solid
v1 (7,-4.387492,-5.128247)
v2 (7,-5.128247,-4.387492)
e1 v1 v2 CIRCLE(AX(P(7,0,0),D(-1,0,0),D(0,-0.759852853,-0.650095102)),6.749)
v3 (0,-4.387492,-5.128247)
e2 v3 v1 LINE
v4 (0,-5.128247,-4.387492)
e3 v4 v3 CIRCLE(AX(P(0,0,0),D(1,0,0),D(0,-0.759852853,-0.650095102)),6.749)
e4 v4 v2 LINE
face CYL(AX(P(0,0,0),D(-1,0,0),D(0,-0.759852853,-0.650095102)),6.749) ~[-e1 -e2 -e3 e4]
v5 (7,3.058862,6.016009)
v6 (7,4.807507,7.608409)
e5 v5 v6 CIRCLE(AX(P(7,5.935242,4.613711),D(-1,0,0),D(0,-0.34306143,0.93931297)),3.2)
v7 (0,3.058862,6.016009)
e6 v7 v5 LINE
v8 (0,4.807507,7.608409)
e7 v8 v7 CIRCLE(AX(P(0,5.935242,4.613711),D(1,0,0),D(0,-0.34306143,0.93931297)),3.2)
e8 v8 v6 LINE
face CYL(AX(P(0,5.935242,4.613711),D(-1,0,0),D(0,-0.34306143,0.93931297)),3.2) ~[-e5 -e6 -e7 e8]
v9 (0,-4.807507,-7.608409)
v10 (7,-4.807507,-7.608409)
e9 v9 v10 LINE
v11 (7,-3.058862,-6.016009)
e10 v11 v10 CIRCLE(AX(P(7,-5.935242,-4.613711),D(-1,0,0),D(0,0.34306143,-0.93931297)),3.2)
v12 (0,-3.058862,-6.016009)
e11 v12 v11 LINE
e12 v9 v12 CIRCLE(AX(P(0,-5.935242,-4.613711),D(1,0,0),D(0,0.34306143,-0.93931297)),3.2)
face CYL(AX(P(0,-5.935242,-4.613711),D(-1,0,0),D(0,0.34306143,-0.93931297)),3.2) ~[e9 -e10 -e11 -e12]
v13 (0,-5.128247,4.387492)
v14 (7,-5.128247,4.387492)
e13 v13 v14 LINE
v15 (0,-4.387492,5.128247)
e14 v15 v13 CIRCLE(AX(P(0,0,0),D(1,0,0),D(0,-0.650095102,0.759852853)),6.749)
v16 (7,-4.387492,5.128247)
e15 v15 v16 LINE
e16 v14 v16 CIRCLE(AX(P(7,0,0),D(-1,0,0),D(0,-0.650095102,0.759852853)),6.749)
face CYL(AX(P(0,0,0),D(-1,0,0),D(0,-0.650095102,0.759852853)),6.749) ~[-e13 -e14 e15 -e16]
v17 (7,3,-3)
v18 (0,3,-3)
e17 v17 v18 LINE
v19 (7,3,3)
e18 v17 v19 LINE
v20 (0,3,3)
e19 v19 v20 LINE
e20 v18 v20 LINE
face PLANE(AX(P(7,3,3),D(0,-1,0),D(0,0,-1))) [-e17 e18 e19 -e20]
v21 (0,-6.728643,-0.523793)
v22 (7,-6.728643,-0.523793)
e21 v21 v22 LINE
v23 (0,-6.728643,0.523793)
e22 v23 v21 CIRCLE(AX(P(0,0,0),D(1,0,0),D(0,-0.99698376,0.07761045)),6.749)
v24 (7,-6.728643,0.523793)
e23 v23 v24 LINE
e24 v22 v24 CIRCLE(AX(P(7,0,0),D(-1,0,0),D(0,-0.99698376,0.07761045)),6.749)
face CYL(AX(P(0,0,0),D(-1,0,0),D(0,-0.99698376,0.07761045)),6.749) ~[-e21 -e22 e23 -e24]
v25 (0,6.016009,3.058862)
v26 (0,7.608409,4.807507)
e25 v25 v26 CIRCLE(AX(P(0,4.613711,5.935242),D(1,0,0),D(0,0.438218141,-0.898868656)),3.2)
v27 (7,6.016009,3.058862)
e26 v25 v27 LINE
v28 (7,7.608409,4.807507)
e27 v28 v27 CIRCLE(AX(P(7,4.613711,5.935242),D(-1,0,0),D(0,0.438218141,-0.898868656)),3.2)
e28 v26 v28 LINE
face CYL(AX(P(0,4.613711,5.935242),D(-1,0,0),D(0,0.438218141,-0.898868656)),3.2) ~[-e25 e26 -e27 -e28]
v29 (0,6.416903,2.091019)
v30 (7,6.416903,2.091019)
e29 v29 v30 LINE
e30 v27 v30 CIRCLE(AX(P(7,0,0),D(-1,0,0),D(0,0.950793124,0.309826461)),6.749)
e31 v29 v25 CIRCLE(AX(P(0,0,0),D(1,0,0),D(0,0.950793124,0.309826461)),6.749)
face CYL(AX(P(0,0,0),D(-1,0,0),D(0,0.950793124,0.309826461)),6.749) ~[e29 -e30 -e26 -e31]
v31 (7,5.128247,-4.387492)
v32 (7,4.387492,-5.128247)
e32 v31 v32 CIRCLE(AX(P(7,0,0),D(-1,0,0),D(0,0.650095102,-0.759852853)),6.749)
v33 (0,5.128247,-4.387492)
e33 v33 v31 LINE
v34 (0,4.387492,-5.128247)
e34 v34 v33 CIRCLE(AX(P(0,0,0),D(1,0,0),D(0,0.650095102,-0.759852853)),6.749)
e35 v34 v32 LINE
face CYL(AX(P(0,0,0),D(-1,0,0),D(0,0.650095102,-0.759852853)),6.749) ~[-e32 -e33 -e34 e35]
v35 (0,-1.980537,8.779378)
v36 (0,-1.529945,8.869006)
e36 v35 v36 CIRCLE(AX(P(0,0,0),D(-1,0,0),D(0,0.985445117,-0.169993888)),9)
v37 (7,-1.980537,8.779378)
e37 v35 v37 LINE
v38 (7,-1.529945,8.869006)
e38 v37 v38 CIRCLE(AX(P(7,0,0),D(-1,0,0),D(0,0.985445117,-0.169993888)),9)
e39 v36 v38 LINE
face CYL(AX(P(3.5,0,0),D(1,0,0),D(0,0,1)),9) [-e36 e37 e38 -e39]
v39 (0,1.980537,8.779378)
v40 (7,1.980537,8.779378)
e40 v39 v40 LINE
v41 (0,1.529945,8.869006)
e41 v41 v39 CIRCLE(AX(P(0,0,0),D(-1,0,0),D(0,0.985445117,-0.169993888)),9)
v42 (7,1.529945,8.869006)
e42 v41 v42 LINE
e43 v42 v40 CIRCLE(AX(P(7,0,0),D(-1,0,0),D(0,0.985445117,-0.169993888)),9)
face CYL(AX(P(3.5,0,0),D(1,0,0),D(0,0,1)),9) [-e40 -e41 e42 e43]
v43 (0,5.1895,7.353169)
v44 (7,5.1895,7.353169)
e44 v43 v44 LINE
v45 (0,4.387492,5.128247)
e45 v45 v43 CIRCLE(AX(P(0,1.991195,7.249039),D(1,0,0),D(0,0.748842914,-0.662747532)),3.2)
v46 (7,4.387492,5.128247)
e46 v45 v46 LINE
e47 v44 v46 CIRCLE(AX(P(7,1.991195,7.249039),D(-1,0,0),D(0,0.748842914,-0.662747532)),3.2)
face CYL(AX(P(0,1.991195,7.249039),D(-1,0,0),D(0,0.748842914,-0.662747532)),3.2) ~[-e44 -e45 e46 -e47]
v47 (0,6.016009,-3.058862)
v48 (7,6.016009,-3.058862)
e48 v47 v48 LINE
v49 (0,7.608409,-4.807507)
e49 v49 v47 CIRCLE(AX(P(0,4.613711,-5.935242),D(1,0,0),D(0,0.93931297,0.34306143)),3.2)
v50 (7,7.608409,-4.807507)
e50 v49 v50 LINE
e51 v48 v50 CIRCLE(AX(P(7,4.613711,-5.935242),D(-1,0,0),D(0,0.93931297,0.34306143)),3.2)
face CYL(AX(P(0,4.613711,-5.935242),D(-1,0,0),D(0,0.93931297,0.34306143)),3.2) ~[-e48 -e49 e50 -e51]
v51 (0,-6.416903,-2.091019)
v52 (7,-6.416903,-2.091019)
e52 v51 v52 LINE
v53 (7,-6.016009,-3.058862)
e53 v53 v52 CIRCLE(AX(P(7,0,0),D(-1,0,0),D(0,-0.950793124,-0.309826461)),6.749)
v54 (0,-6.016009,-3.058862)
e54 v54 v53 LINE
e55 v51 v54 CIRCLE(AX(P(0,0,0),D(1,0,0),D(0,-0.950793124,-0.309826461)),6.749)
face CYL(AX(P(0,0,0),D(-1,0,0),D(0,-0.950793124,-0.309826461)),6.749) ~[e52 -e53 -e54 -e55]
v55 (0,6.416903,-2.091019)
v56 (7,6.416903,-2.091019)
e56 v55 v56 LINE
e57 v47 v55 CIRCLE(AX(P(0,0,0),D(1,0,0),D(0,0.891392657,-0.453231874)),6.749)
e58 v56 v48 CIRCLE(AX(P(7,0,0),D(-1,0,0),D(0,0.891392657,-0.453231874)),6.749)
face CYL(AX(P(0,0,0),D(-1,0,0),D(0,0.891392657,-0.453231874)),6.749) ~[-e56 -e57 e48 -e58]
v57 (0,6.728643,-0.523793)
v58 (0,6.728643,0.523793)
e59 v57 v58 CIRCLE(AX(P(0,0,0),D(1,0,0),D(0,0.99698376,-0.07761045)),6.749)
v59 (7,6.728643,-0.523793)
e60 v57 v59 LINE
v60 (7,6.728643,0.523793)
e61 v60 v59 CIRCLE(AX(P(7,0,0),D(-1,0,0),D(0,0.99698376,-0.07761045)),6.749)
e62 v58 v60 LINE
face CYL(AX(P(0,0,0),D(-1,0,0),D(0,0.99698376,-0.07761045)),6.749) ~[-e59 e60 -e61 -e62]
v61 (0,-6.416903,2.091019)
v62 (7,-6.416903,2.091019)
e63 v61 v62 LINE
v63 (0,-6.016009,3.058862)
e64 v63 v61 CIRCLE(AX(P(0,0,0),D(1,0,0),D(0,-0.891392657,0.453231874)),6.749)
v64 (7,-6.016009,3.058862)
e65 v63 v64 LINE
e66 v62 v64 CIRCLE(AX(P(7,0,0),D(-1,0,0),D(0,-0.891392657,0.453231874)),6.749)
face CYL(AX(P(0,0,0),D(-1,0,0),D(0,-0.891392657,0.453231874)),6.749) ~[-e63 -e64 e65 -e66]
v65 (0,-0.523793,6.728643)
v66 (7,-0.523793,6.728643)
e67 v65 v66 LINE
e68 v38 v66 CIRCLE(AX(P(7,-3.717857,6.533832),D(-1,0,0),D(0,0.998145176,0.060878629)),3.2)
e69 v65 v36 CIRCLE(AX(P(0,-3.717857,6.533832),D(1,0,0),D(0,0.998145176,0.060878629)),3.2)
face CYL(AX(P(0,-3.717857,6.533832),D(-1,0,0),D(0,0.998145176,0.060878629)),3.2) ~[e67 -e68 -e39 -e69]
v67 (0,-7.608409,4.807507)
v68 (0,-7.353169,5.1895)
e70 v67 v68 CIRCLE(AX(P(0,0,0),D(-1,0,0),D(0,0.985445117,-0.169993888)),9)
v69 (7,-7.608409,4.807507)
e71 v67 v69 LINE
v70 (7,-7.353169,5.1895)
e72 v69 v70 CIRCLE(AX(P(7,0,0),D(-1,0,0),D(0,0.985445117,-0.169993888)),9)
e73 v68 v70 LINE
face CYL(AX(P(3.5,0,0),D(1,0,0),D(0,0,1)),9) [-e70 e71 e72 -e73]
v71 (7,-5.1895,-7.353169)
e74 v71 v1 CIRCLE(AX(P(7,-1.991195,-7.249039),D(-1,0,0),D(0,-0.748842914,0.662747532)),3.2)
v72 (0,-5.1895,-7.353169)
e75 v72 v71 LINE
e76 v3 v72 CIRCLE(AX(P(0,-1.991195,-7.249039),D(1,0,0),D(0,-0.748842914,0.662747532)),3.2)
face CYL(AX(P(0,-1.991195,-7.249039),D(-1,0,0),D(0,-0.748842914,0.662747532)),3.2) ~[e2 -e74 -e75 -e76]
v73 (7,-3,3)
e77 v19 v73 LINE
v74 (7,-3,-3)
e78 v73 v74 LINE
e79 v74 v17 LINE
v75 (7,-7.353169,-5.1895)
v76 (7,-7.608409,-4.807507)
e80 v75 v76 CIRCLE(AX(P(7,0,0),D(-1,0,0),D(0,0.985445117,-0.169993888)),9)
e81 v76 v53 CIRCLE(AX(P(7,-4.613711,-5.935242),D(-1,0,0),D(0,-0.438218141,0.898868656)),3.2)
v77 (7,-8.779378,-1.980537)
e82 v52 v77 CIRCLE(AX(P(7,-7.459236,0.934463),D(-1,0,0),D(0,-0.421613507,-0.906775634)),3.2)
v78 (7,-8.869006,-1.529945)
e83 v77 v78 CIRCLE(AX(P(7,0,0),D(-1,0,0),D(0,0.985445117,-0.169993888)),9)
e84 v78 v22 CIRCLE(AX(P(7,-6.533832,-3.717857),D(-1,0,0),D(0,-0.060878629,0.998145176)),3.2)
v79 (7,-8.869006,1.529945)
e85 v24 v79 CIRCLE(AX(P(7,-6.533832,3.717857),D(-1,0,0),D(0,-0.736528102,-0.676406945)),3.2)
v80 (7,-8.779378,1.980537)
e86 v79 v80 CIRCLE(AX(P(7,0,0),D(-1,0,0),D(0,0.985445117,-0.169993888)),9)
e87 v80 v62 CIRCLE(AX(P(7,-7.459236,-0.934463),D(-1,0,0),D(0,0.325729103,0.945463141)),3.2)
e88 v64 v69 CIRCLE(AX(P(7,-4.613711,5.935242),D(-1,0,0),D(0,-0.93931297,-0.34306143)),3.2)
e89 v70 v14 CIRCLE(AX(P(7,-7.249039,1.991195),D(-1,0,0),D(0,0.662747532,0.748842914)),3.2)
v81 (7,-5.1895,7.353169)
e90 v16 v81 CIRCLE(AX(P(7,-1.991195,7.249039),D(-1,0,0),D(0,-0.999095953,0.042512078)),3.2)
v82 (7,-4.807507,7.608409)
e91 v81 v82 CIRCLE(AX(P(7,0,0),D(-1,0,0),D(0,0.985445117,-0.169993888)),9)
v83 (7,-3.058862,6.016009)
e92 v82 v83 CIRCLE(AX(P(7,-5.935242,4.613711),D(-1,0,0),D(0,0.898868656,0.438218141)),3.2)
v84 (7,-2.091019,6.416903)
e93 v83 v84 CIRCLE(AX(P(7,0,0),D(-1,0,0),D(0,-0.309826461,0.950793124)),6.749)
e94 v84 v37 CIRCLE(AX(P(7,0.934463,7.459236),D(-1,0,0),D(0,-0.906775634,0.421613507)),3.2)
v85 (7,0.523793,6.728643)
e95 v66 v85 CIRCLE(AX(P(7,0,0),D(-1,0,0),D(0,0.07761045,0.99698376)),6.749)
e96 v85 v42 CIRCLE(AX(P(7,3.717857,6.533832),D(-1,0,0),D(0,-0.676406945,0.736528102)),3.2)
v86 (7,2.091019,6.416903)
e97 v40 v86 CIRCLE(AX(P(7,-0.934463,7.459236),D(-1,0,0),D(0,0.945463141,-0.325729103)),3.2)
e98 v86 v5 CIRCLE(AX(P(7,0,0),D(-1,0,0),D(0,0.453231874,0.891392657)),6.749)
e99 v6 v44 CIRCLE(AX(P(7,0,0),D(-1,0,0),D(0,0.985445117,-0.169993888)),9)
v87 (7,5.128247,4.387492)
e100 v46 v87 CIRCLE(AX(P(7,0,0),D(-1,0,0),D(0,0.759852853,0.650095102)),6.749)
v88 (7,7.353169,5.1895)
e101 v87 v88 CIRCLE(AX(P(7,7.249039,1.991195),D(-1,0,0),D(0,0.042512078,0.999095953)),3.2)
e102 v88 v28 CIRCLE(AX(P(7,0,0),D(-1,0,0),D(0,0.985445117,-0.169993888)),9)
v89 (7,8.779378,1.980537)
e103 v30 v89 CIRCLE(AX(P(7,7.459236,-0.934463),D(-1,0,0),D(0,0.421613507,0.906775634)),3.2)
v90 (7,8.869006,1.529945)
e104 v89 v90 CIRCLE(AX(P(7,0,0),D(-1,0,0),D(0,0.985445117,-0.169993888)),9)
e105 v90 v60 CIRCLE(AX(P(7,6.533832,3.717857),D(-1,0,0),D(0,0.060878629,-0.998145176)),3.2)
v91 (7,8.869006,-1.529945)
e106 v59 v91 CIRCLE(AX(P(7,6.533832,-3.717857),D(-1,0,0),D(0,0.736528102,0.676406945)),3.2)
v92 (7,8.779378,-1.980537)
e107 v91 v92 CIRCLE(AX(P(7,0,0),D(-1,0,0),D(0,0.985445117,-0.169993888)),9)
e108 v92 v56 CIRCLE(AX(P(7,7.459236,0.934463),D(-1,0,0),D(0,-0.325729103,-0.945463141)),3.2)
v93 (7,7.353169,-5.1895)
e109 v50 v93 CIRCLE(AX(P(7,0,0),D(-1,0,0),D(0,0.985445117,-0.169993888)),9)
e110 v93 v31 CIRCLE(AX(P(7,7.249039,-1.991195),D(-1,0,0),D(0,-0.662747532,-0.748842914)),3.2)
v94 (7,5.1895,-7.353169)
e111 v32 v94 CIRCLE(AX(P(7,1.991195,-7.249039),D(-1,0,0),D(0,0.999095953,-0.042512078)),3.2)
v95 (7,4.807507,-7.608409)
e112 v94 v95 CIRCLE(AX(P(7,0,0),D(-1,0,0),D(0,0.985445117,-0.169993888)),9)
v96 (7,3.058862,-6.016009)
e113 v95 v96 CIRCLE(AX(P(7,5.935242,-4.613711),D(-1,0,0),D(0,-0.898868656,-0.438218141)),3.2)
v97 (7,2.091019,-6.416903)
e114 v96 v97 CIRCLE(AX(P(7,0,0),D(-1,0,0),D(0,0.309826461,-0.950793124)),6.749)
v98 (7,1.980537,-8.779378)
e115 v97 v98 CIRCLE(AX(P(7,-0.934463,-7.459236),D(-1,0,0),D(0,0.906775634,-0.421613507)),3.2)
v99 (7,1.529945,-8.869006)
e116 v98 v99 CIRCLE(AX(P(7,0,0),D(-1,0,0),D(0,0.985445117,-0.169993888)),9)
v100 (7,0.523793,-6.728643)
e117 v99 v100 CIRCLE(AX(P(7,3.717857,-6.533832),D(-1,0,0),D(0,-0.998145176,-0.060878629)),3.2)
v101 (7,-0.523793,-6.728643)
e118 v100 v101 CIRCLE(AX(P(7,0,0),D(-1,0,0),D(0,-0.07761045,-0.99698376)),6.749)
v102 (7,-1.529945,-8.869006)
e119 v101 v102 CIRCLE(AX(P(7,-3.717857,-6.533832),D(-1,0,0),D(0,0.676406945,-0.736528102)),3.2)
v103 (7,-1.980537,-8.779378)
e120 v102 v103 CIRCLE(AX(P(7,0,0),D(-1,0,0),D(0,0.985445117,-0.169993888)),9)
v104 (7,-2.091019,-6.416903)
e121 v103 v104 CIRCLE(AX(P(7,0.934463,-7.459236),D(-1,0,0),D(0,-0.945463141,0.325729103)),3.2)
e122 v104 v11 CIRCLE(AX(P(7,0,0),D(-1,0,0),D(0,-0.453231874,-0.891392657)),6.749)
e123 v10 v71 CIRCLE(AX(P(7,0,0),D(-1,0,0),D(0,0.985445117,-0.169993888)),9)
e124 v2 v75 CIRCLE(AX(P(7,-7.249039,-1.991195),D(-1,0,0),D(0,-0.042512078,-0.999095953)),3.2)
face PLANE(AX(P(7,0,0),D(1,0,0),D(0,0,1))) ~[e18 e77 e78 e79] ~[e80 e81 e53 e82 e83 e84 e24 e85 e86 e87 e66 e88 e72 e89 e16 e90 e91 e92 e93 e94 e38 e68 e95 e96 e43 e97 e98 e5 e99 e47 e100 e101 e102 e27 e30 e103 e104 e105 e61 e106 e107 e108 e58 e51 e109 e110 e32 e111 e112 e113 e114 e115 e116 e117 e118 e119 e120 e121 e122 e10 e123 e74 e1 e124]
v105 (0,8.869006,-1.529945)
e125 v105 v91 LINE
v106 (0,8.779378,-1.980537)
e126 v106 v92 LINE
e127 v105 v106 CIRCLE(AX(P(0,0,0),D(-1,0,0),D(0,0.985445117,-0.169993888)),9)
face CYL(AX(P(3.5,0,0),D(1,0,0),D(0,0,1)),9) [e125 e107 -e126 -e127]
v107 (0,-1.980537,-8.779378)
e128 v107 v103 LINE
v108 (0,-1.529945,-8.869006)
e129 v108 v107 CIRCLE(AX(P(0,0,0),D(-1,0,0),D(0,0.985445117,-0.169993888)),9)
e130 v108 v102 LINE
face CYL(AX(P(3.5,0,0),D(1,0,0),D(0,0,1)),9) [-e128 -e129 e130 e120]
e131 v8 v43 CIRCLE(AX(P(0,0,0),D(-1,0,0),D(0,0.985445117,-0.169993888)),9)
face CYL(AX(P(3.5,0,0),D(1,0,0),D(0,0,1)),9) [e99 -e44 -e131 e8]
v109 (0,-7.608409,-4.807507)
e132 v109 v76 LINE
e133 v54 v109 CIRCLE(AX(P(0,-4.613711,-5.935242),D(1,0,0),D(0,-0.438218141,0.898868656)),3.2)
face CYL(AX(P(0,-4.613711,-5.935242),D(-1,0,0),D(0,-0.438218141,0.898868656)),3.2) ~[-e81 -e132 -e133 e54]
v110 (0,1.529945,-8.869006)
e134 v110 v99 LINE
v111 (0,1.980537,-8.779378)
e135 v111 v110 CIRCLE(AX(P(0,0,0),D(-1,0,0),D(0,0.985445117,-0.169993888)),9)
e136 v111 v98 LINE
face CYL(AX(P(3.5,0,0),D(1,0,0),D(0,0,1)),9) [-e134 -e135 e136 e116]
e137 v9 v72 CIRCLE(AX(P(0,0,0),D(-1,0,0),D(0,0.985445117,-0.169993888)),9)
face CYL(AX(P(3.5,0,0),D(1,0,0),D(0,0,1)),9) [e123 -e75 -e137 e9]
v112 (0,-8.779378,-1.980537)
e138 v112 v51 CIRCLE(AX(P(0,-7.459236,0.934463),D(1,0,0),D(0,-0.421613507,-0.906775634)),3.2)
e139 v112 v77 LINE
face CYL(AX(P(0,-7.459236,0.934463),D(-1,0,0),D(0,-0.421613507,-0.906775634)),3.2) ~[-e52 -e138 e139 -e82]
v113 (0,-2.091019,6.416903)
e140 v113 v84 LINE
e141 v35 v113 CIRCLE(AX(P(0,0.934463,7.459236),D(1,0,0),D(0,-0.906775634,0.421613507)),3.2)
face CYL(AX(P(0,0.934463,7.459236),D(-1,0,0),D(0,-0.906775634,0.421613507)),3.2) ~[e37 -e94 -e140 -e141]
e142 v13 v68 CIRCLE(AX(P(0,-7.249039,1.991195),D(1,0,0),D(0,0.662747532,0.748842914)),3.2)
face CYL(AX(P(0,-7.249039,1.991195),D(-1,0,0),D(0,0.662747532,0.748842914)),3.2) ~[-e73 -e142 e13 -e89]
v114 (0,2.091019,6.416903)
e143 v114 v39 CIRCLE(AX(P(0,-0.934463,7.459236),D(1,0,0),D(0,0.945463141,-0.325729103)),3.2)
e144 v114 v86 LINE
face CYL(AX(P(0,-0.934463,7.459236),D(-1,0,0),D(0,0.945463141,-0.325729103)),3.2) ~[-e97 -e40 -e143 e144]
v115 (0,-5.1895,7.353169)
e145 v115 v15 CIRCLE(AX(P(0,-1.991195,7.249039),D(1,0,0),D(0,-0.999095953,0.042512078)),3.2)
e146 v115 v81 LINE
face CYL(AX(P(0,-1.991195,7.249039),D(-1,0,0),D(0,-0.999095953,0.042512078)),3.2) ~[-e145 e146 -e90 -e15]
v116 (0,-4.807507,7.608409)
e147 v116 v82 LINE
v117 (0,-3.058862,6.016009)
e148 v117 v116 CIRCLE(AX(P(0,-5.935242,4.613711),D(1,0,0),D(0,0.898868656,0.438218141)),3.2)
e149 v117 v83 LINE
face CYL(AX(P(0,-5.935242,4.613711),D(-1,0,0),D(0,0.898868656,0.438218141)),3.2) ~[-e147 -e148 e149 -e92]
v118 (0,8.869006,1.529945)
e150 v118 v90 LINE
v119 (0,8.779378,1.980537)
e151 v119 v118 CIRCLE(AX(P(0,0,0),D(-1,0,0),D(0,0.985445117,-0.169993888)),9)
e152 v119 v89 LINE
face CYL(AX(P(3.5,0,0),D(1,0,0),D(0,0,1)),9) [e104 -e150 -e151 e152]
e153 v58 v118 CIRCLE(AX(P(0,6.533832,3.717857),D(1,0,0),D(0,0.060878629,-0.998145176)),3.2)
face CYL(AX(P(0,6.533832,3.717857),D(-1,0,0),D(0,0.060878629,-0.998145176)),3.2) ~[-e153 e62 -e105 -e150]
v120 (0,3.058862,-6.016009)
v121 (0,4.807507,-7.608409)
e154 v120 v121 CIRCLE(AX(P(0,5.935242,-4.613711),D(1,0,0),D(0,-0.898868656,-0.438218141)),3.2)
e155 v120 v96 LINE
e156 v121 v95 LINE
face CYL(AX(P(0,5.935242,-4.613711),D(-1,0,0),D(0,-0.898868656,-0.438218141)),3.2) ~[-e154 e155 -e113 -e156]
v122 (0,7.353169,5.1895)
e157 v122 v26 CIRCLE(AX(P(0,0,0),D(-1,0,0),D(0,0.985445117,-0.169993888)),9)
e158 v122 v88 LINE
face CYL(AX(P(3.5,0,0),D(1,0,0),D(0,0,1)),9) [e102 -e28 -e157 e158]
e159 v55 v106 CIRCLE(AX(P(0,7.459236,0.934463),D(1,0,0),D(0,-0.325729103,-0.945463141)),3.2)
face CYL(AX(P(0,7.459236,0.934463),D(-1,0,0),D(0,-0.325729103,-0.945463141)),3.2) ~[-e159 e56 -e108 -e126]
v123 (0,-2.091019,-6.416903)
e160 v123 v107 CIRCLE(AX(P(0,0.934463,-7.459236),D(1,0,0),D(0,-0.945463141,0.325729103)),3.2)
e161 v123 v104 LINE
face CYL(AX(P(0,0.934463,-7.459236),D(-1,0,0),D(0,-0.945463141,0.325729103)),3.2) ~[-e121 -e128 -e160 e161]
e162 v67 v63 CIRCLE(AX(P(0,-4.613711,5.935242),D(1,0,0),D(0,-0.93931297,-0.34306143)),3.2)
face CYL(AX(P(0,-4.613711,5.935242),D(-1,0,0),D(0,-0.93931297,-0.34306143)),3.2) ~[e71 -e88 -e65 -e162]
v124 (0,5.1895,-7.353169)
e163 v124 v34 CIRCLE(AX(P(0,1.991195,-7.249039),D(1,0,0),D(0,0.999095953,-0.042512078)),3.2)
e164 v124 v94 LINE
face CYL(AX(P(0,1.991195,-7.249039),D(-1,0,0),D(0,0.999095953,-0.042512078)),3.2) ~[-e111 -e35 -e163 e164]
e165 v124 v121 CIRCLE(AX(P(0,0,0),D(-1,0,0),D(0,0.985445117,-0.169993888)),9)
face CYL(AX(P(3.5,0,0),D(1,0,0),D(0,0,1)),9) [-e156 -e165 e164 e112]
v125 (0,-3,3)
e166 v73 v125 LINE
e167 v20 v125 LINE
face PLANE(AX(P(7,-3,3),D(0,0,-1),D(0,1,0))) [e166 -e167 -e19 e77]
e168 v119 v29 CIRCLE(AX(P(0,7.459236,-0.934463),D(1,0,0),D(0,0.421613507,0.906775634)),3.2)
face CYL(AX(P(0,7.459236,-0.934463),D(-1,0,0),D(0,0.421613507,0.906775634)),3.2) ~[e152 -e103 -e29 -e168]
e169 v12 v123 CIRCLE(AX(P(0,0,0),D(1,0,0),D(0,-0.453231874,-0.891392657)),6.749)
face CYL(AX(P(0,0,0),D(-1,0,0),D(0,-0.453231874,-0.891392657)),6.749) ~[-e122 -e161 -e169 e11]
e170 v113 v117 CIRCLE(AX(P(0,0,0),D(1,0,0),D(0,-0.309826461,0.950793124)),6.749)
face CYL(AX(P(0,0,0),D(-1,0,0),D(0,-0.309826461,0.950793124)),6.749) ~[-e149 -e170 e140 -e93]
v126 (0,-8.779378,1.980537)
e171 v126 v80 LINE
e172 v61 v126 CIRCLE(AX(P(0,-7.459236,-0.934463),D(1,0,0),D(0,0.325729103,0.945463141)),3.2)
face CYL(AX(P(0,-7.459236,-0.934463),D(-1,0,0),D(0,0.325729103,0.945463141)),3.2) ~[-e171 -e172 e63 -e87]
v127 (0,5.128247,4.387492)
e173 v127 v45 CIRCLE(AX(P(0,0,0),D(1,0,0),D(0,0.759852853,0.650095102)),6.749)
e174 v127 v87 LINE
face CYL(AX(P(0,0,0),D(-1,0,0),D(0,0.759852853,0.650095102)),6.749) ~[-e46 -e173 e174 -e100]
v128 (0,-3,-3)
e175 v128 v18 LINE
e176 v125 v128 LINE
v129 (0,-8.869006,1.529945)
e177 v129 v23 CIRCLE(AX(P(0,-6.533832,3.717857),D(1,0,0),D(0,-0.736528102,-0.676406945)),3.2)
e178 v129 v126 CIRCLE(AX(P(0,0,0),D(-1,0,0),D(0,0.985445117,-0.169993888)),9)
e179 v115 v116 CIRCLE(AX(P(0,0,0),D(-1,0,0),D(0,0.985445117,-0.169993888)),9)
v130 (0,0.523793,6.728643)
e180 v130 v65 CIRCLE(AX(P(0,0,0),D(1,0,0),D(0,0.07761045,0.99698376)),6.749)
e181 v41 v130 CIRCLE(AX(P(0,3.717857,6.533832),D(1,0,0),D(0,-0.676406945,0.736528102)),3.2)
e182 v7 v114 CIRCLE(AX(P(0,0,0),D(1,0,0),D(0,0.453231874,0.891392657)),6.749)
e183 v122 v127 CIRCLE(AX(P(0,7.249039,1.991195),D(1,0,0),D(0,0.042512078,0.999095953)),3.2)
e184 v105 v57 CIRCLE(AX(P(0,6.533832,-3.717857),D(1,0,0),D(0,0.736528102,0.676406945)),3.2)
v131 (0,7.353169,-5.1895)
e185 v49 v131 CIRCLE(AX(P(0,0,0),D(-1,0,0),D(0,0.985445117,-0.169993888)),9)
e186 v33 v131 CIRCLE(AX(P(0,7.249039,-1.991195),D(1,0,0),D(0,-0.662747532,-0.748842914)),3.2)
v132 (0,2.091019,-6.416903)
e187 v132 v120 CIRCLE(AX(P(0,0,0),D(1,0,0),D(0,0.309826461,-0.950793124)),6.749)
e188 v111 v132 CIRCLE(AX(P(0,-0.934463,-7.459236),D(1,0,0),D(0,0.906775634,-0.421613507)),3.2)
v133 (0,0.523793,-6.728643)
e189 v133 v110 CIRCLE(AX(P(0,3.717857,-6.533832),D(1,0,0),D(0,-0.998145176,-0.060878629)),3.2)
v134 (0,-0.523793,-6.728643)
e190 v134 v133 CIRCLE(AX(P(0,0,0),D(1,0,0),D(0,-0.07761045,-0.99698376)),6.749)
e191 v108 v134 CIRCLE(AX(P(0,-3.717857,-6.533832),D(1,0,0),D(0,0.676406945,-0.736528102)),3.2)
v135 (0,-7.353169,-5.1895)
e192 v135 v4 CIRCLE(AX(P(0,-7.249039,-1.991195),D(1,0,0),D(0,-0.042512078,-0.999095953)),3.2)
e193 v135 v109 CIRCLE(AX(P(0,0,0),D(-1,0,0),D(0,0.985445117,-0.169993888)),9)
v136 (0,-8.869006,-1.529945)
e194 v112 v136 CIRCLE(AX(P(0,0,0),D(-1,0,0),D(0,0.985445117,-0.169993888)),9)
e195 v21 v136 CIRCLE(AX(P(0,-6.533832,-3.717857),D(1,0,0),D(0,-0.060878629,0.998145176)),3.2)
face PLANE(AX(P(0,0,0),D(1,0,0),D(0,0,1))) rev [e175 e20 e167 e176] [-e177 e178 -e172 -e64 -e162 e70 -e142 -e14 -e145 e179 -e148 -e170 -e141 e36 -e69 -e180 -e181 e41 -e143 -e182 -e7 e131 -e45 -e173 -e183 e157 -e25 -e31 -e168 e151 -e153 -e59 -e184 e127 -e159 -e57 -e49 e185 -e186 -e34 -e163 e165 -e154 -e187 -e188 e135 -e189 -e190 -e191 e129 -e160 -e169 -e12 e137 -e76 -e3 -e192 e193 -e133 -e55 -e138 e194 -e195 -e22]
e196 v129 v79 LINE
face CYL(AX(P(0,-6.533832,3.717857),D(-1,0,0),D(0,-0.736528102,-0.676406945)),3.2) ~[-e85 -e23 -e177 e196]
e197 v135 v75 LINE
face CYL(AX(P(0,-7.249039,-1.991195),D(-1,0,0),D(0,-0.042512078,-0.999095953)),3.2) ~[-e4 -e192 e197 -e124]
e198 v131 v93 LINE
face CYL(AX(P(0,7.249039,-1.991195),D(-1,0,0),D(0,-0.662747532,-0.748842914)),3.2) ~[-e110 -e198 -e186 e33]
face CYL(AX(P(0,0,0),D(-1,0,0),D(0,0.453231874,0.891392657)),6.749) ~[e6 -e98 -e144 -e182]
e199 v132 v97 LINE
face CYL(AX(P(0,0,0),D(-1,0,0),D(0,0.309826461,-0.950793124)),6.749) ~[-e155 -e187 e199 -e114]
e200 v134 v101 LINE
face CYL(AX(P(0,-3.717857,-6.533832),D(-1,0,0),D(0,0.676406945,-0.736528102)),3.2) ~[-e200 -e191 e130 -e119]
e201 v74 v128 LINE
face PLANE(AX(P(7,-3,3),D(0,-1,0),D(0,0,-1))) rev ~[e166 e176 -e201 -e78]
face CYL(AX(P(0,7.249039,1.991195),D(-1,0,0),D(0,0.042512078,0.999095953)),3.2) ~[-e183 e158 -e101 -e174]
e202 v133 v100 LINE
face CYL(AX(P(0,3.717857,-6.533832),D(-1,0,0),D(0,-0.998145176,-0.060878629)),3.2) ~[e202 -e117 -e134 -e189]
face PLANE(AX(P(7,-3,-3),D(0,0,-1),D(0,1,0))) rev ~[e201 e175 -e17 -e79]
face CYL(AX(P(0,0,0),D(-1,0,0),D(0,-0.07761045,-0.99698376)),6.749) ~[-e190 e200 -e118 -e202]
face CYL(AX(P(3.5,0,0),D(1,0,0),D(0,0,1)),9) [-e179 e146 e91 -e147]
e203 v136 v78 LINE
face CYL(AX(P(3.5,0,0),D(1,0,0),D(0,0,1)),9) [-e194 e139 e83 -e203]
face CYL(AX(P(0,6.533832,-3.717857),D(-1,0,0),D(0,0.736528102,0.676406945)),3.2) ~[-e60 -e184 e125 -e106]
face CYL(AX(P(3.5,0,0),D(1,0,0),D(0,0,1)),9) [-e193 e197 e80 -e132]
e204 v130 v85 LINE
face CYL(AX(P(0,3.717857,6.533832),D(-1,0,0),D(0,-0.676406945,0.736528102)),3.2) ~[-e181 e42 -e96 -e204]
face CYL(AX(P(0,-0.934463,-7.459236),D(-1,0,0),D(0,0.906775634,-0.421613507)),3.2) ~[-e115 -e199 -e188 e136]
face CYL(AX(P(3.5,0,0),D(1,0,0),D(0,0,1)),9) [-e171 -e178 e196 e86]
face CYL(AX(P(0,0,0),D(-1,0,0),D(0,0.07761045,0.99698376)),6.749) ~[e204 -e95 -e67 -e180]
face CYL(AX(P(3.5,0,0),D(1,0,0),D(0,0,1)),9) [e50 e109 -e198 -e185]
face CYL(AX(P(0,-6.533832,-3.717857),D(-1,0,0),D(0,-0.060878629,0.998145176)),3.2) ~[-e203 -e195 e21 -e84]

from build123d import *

# Parameters (mm, degrees)
BASPROSKE_W        = 7
BASPROSKE_H        = 9
TOOTHCUT_DEPTH     = 15.525839046
TEETHCUTS_COUNT    = 16
BORSKE_R           = 3
BORE_DEPTH         = 50.0001016
SKETCH1_W          = 6
SKETCH1_H          = 6
CUT_EXTRUDE1_DEPTH = 10


with BuildPart() as part:
    # BasProSke → Base-Revolve (revolve)
    with BuildSketch(Plane(origin=(0, 0, 0), x_dir=(1, 0, 0), z_dir=(0, 1, 0)), mode=Mode.PRIVATE) as base_revolve_sk:
        with Locations((3.5, 4.5)):
            Rectangle(BASPROSKE_W, BASPROSKE_H)
    revolve(base_revolve_sk.sketch.rotate(Axis((-10, 0, 0), (1, 0, 0)), 180), axis=Axis((-10, 0, 0), (1, 0, 0)))

    # TooCutSke → ToothCut (cut, through all)
    with BuildSketch(Plane(origin=(0, 0, 0), x_dir=(0, 0, -1), z_dir=(1, 0, 0))):
        with BuildLine():
            ThreePointArc((0.523792937, 6.728643397), (0, 6.749), (-0.523792937, 6.728643397))
            ThreePointArc((-0.523792937, 6.728643397), (-0.828704482, 7.90962059), (-1.553355277, 8.890721711))
            ThreePointArc((-1.553355277, 8.890721711), (0, 9.0254), (1.553355277, 8.890721711))
            ThreePointArc((1.553355277, 8.890721711), (0.828704482, 7.90962059), (0.523792937, 6.728643397))
        make_face()
    toothcut = extrude(amount=TOOTHCUT_DEPTH, mode=Mode.SUBTRACT)

    # TeethCuts: ToothCut ×16 about axis
    teethcuts_axis = Axis((0, 0, 0), (1, 0, 0))
    for i in range(1, TEETHCUTS_COUNT):
        add(toothcut.rotate(teethcuts_axis, i * 360 / TEETHCUTS_COUNT), mode=Mode.SUBTRACT)

    # BorSke → Bore (cut, symmetric)
    with BuildSketch(Plane(origin=(0, 0, 0), x_dir=(0, 0, -1), z_dir=(1, 0, 0))):
        with Locations(Location((0, 0, 0), (0, 0, 180))):
            Circle(BORSKE_R)
    extrude(amount=BORE_DEPTH, both=True, mode=Mode.SUBTRACT)

    # Sketch1 → Cut-Extrude1 (cut)
    with BuildSketch(Plane(origin=(7, 0, 0), x_dir=(0, 0, -1), z_dir=(1, 0, 0))):
        Rectangle(SKETCH1_W, SKETCH1_H)
    extrude(amount=-CUT_EXTRUDE1_DEPTH, mode=Mode.SUBTRACT)


solid = part.part
